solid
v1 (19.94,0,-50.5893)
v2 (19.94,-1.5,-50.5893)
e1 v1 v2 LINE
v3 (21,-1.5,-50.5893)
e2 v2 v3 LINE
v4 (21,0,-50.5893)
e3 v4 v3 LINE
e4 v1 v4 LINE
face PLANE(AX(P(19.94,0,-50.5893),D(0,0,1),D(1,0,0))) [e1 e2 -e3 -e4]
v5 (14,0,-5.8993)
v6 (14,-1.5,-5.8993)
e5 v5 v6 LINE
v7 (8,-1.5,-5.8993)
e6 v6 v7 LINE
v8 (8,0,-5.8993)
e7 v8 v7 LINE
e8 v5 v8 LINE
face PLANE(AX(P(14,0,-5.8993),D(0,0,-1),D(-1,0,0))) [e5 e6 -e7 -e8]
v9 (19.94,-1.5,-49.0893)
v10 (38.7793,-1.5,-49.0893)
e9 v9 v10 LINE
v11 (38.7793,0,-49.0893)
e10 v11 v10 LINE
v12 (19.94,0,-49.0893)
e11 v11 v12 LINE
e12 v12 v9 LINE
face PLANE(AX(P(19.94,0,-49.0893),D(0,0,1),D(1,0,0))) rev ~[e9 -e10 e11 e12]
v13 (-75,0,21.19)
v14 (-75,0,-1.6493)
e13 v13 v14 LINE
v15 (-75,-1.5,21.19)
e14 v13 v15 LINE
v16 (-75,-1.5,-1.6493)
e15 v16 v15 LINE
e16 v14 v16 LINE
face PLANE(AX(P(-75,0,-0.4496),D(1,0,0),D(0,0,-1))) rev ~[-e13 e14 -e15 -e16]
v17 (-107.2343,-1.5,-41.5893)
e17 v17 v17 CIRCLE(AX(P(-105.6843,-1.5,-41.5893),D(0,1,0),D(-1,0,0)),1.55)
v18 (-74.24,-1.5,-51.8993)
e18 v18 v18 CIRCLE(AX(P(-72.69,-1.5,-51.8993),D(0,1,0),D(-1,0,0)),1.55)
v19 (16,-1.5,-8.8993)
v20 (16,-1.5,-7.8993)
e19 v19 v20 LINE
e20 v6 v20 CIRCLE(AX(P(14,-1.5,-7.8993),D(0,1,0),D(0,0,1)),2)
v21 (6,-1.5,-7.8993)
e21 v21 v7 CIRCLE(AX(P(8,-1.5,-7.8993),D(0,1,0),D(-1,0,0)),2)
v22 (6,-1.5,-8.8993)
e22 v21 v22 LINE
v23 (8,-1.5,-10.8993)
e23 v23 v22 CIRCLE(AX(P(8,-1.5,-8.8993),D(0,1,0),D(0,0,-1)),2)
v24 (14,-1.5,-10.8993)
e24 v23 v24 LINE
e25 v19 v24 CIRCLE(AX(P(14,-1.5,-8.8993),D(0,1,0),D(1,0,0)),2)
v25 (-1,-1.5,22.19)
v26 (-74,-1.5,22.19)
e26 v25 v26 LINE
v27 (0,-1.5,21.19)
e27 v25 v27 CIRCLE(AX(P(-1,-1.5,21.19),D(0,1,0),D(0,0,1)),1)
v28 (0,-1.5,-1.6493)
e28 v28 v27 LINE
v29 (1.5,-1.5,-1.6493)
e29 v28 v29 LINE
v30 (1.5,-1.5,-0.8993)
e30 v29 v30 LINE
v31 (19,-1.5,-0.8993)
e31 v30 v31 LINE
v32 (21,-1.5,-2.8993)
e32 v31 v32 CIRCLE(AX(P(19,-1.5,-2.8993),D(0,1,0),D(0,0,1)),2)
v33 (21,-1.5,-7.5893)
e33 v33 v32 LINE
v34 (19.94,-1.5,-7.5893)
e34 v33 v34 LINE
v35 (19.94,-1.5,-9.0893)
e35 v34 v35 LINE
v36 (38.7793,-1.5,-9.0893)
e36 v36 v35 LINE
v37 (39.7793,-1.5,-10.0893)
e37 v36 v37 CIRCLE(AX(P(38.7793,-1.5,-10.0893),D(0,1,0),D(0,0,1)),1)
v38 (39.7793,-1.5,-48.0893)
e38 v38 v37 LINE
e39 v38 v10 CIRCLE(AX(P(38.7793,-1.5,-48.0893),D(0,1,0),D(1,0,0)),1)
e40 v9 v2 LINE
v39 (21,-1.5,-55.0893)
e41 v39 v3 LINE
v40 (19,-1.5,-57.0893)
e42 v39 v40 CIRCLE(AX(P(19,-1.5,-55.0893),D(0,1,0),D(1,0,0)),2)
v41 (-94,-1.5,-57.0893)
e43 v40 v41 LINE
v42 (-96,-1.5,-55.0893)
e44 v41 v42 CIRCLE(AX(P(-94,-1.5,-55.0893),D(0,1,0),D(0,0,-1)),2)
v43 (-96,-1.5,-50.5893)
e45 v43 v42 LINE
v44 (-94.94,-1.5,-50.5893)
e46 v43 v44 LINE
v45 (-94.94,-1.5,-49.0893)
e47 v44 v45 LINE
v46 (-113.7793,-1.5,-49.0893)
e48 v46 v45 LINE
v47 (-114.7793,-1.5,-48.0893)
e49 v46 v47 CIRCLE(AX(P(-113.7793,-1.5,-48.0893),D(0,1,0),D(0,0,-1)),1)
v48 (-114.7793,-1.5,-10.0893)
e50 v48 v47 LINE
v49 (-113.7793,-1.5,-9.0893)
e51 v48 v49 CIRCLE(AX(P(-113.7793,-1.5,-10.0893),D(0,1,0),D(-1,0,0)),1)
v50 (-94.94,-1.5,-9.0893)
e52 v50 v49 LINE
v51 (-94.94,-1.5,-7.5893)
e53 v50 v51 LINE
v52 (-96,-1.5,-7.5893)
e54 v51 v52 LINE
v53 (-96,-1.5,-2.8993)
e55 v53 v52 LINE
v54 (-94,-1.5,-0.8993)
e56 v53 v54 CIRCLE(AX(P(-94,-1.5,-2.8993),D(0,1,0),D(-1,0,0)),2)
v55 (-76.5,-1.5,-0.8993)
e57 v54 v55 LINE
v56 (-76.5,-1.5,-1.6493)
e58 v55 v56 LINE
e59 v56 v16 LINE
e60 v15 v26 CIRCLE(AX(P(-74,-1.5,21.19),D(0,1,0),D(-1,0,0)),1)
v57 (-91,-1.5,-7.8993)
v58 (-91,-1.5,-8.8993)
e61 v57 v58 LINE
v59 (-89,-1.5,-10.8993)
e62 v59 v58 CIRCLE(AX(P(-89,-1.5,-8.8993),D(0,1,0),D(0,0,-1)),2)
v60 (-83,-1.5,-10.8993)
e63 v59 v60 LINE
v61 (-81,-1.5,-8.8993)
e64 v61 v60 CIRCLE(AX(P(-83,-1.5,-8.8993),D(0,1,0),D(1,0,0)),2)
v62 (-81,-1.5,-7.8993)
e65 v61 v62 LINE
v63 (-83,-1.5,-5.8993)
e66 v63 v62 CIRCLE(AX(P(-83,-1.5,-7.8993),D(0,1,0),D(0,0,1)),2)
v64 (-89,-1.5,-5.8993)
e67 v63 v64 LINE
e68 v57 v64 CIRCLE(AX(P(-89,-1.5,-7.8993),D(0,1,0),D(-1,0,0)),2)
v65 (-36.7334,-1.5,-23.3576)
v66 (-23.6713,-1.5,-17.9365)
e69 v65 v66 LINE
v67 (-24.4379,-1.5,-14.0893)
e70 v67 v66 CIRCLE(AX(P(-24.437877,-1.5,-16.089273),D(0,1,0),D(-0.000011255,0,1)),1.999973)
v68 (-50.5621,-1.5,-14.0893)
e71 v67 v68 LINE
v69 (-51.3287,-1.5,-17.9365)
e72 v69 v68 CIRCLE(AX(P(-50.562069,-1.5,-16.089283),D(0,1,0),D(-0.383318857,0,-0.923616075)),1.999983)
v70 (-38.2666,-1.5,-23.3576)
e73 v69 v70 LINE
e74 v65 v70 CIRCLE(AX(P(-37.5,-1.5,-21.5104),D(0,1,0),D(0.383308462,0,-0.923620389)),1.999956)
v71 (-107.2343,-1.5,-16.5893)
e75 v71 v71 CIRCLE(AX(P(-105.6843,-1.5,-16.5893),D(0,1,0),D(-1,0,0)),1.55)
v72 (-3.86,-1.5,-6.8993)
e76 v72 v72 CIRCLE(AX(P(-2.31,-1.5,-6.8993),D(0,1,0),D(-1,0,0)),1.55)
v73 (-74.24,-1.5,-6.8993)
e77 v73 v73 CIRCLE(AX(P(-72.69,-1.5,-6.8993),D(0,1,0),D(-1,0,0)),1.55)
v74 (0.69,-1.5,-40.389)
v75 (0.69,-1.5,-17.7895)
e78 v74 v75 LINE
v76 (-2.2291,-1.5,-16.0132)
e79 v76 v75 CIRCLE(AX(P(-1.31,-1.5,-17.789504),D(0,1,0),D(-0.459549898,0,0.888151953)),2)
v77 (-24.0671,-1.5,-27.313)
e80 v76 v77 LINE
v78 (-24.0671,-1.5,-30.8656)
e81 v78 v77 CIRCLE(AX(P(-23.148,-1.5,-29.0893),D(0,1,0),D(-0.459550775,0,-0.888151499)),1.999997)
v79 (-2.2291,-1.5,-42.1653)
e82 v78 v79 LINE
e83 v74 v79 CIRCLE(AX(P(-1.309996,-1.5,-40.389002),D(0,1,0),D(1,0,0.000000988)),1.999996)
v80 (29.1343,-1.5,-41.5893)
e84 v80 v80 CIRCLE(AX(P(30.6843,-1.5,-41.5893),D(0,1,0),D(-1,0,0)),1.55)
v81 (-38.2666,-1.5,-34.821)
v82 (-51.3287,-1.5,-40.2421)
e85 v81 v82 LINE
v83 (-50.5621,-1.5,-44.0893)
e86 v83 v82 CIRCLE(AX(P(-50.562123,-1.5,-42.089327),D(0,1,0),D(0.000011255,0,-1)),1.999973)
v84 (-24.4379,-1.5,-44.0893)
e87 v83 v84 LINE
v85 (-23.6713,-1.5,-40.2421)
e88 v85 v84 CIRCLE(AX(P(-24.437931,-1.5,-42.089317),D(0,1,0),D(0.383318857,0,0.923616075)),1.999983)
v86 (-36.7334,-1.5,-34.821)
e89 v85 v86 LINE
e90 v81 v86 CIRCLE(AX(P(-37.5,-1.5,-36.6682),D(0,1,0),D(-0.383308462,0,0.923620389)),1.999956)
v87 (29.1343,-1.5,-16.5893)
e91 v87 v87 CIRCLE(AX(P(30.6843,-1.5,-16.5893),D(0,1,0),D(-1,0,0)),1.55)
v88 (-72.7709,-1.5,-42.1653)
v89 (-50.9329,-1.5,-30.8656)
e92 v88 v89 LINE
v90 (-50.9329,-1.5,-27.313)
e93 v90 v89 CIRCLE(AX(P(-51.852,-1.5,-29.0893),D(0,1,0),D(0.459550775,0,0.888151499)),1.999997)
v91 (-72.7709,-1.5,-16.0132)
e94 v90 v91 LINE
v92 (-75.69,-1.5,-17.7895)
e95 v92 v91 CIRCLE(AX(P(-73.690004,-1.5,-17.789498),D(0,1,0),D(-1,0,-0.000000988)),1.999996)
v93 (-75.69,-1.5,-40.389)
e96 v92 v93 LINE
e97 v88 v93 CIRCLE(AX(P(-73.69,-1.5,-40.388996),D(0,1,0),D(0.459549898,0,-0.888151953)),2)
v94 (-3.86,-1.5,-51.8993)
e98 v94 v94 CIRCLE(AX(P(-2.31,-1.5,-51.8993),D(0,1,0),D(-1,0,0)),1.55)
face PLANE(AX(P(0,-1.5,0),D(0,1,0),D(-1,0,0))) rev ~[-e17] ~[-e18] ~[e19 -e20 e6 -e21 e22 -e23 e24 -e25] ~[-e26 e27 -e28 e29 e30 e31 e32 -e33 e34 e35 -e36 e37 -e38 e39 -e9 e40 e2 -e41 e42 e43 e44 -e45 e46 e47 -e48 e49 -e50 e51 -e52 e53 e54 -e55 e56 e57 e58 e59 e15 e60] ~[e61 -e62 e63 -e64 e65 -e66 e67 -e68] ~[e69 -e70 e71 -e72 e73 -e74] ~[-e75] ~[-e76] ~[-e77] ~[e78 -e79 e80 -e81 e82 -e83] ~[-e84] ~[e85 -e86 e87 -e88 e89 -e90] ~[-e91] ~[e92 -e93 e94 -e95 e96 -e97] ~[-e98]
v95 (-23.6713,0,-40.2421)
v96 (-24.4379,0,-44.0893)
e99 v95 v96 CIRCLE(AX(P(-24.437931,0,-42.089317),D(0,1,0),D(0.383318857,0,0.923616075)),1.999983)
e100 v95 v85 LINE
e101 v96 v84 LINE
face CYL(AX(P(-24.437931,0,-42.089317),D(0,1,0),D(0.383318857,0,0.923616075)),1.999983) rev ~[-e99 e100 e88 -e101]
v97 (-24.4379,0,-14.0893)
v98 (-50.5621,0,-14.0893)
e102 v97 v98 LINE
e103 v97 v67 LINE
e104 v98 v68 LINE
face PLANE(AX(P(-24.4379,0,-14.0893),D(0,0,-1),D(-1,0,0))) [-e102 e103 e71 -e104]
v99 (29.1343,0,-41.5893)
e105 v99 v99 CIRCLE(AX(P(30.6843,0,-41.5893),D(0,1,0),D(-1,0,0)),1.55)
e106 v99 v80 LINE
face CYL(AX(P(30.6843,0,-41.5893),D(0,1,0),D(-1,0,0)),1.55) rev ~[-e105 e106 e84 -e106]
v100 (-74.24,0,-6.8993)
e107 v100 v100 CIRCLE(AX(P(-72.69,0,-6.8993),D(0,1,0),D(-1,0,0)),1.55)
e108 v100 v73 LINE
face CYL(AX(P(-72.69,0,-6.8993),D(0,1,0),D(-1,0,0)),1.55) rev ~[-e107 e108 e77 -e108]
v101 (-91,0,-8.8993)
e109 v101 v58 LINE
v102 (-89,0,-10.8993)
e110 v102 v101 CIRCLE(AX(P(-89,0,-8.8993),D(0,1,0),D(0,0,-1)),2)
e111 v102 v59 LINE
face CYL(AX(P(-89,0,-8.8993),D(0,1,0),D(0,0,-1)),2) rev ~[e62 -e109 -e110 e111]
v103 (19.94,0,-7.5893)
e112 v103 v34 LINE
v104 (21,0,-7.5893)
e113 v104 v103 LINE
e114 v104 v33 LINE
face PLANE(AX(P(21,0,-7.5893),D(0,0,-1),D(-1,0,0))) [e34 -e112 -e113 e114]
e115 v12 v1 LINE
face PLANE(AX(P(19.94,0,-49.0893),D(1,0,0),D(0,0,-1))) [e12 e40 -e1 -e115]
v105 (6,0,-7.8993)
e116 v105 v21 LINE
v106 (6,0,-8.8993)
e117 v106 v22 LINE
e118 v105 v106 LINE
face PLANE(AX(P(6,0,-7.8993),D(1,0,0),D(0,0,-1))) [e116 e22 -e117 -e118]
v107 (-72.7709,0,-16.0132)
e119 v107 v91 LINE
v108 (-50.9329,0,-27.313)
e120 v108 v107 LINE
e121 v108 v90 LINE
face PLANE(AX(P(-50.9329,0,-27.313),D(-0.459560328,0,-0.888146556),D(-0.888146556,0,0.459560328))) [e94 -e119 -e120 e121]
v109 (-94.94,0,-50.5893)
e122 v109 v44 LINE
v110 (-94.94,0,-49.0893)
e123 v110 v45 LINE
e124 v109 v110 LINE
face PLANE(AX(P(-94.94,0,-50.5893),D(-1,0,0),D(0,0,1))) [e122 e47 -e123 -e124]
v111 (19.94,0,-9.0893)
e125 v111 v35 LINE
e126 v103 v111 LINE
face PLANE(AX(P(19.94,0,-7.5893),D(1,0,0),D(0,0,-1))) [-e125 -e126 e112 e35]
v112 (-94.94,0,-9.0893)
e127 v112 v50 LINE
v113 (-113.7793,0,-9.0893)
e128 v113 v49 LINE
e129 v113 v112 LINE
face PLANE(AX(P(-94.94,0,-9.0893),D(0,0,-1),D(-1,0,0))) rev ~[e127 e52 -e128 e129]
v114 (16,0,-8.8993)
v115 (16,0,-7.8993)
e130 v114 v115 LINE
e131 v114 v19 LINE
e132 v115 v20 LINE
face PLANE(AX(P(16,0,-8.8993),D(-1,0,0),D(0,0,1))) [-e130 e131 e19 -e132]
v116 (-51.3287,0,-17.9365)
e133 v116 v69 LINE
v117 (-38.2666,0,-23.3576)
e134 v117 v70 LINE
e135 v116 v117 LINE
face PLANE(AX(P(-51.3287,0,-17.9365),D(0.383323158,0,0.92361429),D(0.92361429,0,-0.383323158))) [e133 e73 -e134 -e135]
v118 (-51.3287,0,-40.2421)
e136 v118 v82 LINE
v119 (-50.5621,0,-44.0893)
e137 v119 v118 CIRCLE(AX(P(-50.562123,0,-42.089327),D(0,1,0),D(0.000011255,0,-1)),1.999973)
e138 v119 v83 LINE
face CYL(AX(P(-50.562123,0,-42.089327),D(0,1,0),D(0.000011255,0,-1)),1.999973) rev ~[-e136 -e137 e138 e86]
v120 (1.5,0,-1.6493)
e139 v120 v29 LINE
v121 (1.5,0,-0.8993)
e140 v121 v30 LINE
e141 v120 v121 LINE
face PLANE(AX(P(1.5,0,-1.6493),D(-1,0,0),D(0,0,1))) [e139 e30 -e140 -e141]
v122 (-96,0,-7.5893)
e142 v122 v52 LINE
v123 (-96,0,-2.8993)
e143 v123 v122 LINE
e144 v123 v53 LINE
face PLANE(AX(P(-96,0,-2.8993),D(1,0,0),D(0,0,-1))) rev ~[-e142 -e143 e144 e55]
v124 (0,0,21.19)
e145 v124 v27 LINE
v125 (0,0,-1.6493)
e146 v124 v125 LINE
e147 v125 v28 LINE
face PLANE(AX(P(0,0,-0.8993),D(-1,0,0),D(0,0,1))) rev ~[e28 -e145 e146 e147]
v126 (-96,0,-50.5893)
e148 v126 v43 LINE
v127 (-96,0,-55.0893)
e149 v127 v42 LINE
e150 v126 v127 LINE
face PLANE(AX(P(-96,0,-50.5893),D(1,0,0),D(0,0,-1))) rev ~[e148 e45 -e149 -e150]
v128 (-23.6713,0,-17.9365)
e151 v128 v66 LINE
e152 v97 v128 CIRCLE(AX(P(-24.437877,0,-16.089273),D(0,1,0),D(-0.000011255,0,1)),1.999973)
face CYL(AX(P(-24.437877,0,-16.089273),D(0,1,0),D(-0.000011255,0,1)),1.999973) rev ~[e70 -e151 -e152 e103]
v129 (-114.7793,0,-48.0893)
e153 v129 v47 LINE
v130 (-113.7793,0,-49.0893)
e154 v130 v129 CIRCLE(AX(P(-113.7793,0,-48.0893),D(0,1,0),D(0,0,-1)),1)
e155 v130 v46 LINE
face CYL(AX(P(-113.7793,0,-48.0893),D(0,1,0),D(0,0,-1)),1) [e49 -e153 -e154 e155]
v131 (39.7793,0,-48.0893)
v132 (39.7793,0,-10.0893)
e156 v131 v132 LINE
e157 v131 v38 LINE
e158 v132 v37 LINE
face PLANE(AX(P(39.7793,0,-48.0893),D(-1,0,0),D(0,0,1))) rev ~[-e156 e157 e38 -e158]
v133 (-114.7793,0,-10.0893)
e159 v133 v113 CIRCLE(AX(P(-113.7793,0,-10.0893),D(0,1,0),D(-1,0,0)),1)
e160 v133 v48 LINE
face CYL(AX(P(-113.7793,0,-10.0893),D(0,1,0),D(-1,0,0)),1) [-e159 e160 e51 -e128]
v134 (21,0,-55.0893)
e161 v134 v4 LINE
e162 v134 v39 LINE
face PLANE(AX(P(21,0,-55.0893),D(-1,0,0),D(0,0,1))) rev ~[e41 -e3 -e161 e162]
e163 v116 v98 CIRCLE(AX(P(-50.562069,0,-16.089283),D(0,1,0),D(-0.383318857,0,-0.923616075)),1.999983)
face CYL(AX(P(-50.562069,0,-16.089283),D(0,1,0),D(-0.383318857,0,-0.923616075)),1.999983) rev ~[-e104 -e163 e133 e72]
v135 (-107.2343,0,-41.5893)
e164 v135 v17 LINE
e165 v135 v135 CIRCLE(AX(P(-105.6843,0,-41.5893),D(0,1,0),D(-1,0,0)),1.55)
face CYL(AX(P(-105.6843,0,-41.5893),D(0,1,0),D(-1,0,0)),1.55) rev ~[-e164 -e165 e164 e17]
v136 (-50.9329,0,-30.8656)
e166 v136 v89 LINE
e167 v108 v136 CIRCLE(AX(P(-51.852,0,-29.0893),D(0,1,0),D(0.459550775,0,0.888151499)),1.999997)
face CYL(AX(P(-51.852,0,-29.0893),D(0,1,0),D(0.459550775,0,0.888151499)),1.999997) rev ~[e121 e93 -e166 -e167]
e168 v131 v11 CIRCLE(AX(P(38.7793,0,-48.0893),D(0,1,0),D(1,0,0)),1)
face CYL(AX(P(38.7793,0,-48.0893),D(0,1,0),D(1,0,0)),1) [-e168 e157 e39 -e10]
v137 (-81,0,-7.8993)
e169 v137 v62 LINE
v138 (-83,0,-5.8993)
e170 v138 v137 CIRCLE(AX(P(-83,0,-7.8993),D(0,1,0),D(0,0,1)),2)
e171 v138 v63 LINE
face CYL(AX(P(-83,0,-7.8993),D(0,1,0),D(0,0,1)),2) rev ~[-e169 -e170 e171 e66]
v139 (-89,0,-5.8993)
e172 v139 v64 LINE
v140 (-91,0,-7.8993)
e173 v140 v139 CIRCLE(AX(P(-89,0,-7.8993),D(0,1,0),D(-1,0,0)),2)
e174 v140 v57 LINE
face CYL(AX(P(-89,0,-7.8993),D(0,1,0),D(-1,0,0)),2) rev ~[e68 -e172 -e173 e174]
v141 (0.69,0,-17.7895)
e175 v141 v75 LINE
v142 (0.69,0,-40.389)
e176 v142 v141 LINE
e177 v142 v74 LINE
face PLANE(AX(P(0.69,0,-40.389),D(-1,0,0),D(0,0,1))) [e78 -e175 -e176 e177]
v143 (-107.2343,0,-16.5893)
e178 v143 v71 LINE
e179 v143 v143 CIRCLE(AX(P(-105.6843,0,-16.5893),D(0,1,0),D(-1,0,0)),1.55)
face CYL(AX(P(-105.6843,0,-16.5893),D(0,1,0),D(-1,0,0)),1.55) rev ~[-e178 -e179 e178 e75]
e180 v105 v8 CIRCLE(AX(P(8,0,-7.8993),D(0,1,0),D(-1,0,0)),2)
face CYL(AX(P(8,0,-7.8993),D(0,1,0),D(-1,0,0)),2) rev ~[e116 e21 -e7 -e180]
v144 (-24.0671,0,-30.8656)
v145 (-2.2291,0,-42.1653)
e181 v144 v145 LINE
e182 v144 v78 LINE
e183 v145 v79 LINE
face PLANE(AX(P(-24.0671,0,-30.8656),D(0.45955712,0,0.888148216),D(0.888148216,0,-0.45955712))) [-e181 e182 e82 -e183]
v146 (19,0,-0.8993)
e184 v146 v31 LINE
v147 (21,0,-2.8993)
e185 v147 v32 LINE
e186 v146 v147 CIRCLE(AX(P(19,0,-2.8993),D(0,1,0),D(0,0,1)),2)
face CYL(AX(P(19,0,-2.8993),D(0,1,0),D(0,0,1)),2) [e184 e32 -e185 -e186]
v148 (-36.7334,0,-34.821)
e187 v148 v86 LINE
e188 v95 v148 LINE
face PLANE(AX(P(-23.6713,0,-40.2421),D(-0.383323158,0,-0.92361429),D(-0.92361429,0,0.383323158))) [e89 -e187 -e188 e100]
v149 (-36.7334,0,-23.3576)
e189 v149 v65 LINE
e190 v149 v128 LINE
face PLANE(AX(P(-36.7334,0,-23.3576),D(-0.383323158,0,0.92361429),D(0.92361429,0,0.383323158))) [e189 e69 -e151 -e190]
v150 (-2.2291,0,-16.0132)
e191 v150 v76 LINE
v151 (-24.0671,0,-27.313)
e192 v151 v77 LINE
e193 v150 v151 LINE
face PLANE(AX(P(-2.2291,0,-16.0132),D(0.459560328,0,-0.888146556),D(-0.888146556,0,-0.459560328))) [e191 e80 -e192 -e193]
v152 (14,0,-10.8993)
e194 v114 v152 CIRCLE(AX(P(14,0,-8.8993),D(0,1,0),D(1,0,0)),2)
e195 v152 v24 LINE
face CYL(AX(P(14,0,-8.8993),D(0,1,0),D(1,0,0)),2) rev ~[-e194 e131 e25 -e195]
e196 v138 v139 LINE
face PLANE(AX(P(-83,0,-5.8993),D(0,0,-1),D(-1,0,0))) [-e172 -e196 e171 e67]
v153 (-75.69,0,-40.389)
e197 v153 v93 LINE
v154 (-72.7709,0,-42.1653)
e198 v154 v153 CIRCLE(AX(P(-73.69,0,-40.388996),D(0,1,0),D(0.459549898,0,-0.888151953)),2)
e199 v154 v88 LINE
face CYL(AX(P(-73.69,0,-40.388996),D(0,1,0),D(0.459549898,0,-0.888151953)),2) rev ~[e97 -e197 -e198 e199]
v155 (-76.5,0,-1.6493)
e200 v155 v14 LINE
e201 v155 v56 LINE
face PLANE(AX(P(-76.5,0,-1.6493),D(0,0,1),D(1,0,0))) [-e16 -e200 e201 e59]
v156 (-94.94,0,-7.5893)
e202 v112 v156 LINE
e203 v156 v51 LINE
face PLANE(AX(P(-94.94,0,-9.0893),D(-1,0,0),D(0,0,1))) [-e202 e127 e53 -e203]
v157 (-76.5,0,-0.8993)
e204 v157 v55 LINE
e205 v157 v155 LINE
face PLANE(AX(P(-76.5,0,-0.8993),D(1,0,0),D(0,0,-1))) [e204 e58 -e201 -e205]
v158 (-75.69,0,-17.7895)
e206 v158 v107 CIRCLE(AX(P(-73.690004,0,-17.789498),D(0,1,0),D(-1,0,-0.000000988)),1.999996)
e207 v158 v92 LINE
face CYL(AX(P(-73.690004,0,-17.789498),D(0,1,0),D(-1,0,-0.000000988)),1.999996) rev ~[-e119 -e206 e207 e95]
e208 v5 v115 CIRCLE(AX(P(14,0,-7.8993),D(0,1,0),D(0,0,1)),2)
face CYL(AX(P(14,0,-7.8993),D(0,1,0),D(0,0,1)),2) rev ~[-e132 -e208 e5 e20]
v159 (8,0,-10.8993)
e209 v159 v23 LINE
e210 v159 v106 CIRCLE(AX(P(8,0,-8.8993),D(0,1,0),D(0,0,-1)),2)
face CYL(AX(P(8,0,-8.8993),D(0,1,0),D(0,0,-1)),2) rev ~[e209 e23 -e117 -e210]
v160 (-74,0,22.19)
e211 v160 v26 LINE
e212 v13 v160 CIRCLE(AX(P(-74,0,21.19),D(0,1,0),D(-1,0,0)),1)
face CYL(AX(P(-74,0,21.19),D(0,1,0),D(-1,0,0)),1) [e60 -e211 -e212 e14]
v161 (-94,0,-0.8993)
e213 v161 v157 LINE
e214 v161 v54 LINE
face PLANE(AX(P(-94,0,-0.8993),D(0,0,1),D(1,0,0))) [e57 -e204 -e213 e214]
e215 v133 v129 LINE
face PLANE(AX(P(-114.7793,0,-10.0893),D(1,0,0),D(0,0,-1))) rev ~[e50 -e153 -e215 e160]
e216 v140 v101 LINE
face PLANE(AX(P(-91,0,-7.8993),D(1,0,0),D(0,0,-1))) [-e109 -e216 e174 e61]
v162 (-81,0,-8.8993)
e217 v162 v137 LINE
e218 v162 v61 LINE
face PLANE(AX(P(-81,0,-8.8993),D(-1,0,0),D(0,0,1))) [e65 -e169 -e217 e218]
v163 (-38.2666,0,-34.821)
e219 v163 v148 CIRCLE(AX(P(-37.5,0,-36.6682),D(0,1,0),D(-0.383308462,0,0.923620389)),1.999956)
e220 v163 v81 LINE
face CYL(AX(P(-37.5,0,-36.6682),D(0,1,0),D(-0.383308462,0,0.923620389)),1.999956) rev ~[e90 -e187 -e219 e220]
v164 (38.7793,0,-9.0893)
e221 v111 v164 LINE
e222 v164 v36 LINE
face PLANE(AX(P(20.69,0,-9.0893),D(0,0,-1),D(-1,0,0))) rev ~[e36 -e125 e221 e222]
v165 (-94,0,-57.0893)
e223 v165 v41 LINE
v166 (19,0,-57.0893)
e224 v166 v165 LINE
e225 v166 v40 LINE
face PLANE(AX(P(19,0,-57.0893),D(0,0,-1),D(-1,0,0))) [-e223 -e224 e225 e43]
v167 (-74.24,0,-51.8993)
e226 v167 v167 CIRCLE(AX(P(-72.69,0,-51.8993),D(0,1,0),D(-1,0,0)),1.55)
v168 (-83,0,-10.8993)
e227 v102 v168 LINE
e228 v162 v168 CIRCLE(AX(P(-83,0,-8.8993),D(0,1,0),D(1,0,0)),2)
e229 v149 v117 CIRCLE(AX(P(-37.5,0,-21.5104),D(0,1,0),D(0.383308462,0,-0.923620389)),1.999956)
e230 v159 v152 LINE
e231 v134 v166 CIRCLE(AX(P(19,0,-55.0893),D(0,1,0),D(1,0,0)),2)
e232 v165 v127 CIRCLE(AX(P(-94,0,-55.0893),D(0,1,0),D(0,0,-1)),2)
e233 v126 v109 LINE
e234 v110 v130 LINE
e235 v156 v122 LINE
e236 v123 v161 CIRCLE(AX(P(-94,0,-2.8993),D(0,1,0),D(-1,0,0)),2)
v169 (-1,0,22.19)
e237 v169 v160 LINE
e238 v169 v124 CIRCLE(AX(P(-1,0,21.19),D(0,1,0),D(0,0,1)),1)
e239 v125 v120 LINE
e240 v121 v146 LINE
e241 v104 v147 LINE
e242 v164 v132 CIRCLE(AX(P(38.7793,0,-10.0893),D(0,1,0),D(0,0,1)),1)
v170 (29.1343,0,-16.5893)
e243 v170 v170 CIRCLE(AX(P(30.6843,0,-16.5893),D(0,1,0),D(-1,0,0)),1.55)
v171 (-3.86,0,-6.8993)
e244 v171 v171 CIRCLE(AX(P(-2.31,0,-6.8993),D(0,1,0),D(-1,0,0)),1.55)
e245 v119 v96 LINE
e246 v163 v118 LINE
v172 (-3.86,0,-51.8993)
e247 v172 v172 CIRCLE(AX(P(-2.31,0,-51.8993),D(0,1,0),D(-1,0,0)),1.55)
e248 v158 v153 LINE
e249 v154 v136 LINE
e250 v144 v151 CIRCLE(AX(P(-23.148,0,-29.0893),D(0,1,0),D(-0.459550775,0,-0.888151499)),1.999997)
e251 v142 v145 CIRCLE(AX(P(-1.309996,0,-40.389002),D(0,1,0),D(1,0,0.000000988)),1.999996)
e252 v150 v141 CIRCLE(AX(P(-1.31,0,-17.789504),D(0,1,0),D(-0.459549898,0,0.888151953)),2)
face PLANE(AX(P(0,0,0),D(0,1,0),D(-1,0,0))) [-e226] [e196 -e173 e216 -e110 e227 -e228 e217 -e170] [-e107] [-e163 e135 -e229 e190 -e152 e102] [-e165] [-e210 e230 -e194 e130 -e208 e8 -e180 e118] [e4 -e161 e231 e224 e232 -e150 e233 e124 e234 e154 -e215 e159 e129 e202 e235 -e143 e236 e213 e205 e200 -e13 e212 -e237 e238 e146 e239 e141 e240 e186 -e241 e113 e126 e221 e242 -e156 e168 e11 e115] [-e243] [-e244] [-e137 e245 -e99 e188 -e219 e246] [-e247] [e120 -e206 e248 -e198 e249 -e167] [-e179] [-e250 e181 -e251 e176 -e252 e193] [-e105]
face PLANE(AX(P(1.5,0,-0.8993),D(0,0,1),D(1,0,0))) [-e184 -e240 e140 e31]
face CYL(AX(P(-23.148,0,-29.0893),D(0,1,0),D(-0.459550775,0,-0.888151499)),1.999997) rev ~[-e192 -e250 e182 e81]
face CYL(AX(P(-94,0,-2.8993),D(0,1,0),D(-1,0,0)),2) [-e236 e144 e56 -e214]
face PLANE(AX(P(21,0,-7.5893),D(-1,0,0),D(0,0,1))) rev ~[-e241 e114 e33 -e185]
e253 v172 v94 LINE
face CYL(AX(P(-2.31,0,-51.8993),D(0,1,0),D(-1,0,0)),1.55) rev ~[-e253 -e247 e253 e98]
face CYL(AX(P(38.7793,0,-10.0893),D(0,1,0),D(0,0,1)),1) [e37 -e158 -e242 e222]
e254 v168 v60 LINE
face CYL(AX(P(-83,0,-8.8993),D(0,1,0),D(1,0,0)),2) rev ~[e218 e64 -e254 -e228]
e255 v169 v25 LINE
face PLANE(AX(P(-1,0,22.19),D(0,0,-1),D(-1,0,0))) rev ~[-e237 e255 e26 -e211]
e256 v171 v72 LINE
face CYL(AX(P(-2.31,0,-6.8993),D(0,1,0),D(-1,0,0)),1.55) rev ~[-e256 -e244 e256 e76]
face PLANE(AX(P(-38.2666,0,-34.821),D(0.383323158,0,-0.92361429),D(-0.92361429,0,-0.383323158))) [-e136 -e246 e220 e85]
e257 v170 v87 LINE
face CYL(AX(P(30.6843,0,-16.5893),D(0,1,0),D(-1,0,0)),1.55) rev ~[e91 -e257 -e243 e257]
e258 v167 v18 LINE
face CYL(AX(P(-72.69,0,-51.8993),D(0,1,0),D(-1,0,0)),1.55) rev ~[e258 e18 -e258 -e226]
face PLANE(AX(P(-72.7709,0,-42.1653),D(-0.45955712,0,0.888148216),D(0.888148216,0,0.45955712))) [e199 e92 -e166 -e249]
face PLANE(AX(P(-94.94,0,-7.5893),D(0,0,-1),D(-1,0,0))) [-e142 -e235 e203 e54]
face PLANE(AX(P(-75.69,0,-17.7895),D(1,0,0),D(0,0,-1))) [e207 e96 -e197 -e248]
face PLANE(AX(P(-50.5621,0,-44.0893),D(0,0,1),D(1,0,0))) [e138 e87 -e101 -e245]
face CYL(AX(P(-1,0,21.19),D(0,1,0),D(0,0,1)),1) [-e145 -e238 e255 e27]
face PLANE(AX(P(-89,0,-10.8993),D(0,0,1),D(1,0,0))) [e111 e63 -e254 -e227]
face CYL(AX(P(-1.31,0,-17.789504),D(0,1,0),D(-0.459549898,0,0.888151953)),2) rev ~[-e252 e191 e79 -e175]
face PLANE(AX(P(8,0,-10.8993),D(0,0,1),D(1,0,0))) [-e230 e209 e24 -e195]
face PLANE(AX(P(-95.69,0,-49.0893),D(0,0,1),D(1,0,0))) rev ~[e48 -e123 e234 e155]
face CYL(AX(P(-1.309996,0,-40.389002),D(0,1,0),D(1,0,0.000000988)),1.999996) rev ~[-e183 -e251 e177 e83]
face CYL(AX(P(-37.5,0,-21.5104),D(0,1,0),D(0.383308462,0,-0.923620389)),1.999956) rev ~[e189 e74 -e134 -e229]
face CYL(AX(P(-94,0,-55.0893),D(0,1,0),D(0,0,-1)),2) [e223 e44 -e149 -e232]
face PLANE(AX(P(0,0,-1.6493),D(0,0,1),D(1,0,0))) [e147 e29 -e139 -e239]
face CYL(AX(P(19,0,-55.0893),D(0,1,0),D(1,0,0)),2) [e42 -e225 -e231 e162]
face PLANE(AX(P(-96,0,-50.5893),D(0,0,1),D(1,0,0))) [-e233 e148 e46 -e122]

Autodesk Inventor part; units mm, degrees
ref_plane "YZ Plane" through (0, 0, 0) normal (1, 0, 0) x (0, 1, 0)
ref_plane "XZ Plane" through (0, 0, 0) normal (0, 1, 0) x (-1, 0, 0)
ref_plane "XY Plane" through (0, 0, 0) normal (0, 0, 1) x (1, 0, 0)
sketch "Sketch1" plane through (0, 0, 0) normal (0, 1, 0) x (-1, 0, 0)
  line L0 (75, -0.4496) -> (0, -0.4496)
  line L1 (-21.1396, -9.0893) -> (-21.1396, -49.0893)
  line L2 (96.1396, -49.0893) -> (96.1396, -9.0893)
  circle A0 centre (72.69, -51.8993) radius 1.55
  circle A1 centre (2.31, -51.8993) radius 1.55
  circle A2 centre (72.69, -6.8993) radius 1.55
  circle A3 centre (2.31, -6.8993) radius 1.55
  arc A4 (-6, -7.8993) -> (-8, -5.8993) centre (-8, -7.8993) ccw
  line L3 (-14, -5.8993) -> (-8, -5.8993)
  arc A5 (-8, -10.8993) -> (-6, -8.8993) centre (-8, -8.8993) ccw
  line L4 (-6, -7.8993) -> (-6, -8.8993)
  arc A6 (-16, -8.8993) -> (-14, -10.8993) centre (-14, -8.8993) ccw
  line L5 (-16, -8.8993) -> (-16, -7.8993)
  arc A7 (-14, -5.8993) -> (-16, -7.8993) centre (-14, -7.8993) ccw
  arc A8 (89, -10.8993) -> (91, -8.8993) centre (89, -8.8993) ccw
  line L6 (91, -7.8993) -> (91, -8.8993)
  arc A9 (81, -8.8993) -> (83, -10.8993) centre (83, -8.8993) ccw
  line L7 (81, -8.8993) -> (81, -7.8993)
  arc A10 (91, -7.8993) -> (89, -5.8993) centre (89, -7.8993) ccw
  line L8 (83, -5.8993) -> (89, -5.8993)
  arc A11 (83, -5.8993) -> (81, -7.8993) centre (83, -7.8993) ccw
  arc A12 (2.2291, -16.0132) -> (-0.69, -17.7895) centre (1.31, -17.7895) ccw
  line L9 (-0.69, -40.389) -> (-0.69, -17.7895)
  arc A13 (24.0671, -30.8656) -> (24.0671, -27.313) centre (23.148, -29.0893) ccw
  line L10 (2.2291, -16.0132) -> (24.0671, -27.313)
  arc A14 (-0.69, -40.389) -> (2.2291, -42.1653) centre (1.31, -40.389) ccw
  line L11 (24.0671, -30.8656) -> (2.2291, -42.1653)
  arc A15 (23.6713, -40.2421) -> (24.4379, -44.0893) centre (24.4379, -42.0893) ccw
  line L12 (23.6713, -40.2421) -> (36.7334, -34.821)
  arc A16 (50.5621, -44.0893) -> (51.3287, -40.2421) centre (50.5621, -42.0893) ccw
  line L13 (38.2666, -34.821) -> (51.3287, -40.2421)
  arc A17 (38.2666, -34.821) -> (36.7334, -34.821) centre (37.5, -36.6682) ccw
  arc A18 (50.9329, -27.313) -> (50.9329, -30.8656) centre (51.852, -29.0893) ccw
  line L14 (50.9329, -27.313) -> (72.7709, -16.0132)
  arc A19 (75.69, -17.7895) -> (72.7709, -16.0132) centre (73.69, -17.7895) ccw
  line L15 (75.69, -17.7895) -> (75.69, -40.389)
  arc A20 (72.7709, -42.1653) -> (75.69, -40.389) centre (73.69, -40.389) ccw
  arc A21 (36.7334, -23.3576) -> (38.2666, -23.3576) centre (37.5, -21.5104) ccw
  line L16 (51.3287, -17.9365) -> (38.2666, -23.3576)
  arc A22 (51.3287, -17.9365) -> (50.5621, -14.0893) centre (50.5621, -16.0893) ccw
  line L17 (24.4379, -14.0893) -> (50.5621, -14.0893)
  arc A23 (24.4379, -14.0893) -> (23.6713, -17.9365) centre (24.4379, -16.0893) ccw
  line L18 (36.7334, -23.3576) -> (23.6713, -17.9365)
  line L19 (89, -10.8993) -> (83, -10.8993)
  line L20 (-8, -10.8993) -> (-14, -10.8993)
  circle A24 centre (-30.6843, -41.5893) radius 1.55
  circle A25 centre (105.6843, -41.5893) radius 1.55
  circle A26 centre (-30.6843, -16.5893) radius 1.55
  circle A27 centre (105.6843, -16.5893) radius 1.55
  line L21 (72.7709, -42.1653) -> (50.9329, -30.8656)
  line L22 (50.5621, -44.0893) -> (24.4379, -44.0893)
  arc A28 (-21, -55.0893) -> (-19, -57.0893) centre (-19, -55.0893) ccw
  line L23 (-19, -57.0893) -> (94, -57.0893)
  arc A29 (94, -57.0893) -> (96, -55.0893) centre (94, -55.0893) ccw
  line L24 (96, -50.5893) -> (96, -55.0893)
  arc A30 (96, -2.8993) -> (94, -0.8993) centre (94, -2.8993) ccw
  line L25 (94, -0.8993) -> (76.5, -0.8993)
  arc A31 (-19, -0.8993) -> (-21, -2.8993) centre (-19, -2.8993) ccw
  line L26 (-1.5, -0.8993) -> (-19, -0.8993)
  line L27 (96, -2.8993) -> (96, -7.5893)
  line L28 (-1.5, -1.6493) -> (-1.5, -0.8993)
  arc A32 (113.7793, -49.0893) -> (114.7793, -48.0893) centre (113.7793, -48.0893) ccw
  line L29 (114.7793, -10.0893) -> (114.7793, -48.0893)
  arc A33 (114.7793, -10.0893) -> (113.7793, -9.0893) centre (113.7793, -10.0893) ccw
  arc A34 (75, 21.19) -> (74, 22.19) centre (74, 21.19) ccw
  line L30 (1, 22.19) -> (74, 22.19)
  arc A35 (-39.7793, -48.0893) -> (-38.7793, -49.0893) centre (-38.7793, -48.0893) ccw
  arc A36 (-38.7793, -9.0893) -> (-39.7793, -10.0893) centre (-38.7793, -10.0893) ccw
  line L31 (-38.7793, -9.0893) -> (-19.94, -9.0893)
  arc A37 (1, 22.19) -> (0, 21.19) centre (1, 21.19) ccw
  line L32 (113.7793, -49.0893) -> (94.94, -49.0893)
  line L33 (-39.7793, -48.0893) -> (-39.7793, -10.0893)
  line L34 (96, -50.5893) -> (94.94, -50.5893)
  line L35 (94.94, -50.5893) -> (94.94, -49.0893)
  line L36 (94.94, -7.5893) -> (96, -7.5893)
  line L37 (94.94, -9.0893) -> (113.7793, -9.0893)
  line L38 (94.94, -9.0893) -> (94.94, -7.5893)
  line L39 (-21, -7.5893) -> (-19.94, -7.5893)
  line L40 (-19.94, -7.5893) -> (-19.94, -9.0893)
  line L41 (-21, -7.5893) -> (-21, -2.8993)
  line L42 (-19.94, -50.5893) -> (-21, -50.5893)
  line L43 (-19.94, -49.0893) -> (-38.7793, -49.0893)
  line L44 (-19.94, -49.0893) -> (-19.94, -50.5893)
  line L45 (-21, -55.0893) -> (-21, -50.5893)
  line L46 (75, 21.19) -> (75, -1.6493)
  line L47 (0, -1.6493) -> (0, 21.19)
  line L48 (0, -1.6493) -> (-1.5, -1.6493)
  line L49 (76.5, -0.8993) -> (76.5, -1.6493)
  line L50 (76.5, -1.6493) -> (75, -1.6493)
  line L51 (96.5893, -9.0893) -> (96.5893, -49.0893)
  line L52 (-21.5893, -49.0893) -> (-21.5893, -9.0893)
  line L53 (95.69, -49.0893) -> (95.69, -9.0893)
  line L54 (-20.69, -9.0893) -> (-20.69, -49.0893)
  line L55 (75, -0.8993) -> (0, -0.8993)
  line L56 (0, 0) -> (75, 0)
extrude "Extrusion1" add sketch "Sketch1" against normal blind 1.5
properties part number "body_back_frame"
